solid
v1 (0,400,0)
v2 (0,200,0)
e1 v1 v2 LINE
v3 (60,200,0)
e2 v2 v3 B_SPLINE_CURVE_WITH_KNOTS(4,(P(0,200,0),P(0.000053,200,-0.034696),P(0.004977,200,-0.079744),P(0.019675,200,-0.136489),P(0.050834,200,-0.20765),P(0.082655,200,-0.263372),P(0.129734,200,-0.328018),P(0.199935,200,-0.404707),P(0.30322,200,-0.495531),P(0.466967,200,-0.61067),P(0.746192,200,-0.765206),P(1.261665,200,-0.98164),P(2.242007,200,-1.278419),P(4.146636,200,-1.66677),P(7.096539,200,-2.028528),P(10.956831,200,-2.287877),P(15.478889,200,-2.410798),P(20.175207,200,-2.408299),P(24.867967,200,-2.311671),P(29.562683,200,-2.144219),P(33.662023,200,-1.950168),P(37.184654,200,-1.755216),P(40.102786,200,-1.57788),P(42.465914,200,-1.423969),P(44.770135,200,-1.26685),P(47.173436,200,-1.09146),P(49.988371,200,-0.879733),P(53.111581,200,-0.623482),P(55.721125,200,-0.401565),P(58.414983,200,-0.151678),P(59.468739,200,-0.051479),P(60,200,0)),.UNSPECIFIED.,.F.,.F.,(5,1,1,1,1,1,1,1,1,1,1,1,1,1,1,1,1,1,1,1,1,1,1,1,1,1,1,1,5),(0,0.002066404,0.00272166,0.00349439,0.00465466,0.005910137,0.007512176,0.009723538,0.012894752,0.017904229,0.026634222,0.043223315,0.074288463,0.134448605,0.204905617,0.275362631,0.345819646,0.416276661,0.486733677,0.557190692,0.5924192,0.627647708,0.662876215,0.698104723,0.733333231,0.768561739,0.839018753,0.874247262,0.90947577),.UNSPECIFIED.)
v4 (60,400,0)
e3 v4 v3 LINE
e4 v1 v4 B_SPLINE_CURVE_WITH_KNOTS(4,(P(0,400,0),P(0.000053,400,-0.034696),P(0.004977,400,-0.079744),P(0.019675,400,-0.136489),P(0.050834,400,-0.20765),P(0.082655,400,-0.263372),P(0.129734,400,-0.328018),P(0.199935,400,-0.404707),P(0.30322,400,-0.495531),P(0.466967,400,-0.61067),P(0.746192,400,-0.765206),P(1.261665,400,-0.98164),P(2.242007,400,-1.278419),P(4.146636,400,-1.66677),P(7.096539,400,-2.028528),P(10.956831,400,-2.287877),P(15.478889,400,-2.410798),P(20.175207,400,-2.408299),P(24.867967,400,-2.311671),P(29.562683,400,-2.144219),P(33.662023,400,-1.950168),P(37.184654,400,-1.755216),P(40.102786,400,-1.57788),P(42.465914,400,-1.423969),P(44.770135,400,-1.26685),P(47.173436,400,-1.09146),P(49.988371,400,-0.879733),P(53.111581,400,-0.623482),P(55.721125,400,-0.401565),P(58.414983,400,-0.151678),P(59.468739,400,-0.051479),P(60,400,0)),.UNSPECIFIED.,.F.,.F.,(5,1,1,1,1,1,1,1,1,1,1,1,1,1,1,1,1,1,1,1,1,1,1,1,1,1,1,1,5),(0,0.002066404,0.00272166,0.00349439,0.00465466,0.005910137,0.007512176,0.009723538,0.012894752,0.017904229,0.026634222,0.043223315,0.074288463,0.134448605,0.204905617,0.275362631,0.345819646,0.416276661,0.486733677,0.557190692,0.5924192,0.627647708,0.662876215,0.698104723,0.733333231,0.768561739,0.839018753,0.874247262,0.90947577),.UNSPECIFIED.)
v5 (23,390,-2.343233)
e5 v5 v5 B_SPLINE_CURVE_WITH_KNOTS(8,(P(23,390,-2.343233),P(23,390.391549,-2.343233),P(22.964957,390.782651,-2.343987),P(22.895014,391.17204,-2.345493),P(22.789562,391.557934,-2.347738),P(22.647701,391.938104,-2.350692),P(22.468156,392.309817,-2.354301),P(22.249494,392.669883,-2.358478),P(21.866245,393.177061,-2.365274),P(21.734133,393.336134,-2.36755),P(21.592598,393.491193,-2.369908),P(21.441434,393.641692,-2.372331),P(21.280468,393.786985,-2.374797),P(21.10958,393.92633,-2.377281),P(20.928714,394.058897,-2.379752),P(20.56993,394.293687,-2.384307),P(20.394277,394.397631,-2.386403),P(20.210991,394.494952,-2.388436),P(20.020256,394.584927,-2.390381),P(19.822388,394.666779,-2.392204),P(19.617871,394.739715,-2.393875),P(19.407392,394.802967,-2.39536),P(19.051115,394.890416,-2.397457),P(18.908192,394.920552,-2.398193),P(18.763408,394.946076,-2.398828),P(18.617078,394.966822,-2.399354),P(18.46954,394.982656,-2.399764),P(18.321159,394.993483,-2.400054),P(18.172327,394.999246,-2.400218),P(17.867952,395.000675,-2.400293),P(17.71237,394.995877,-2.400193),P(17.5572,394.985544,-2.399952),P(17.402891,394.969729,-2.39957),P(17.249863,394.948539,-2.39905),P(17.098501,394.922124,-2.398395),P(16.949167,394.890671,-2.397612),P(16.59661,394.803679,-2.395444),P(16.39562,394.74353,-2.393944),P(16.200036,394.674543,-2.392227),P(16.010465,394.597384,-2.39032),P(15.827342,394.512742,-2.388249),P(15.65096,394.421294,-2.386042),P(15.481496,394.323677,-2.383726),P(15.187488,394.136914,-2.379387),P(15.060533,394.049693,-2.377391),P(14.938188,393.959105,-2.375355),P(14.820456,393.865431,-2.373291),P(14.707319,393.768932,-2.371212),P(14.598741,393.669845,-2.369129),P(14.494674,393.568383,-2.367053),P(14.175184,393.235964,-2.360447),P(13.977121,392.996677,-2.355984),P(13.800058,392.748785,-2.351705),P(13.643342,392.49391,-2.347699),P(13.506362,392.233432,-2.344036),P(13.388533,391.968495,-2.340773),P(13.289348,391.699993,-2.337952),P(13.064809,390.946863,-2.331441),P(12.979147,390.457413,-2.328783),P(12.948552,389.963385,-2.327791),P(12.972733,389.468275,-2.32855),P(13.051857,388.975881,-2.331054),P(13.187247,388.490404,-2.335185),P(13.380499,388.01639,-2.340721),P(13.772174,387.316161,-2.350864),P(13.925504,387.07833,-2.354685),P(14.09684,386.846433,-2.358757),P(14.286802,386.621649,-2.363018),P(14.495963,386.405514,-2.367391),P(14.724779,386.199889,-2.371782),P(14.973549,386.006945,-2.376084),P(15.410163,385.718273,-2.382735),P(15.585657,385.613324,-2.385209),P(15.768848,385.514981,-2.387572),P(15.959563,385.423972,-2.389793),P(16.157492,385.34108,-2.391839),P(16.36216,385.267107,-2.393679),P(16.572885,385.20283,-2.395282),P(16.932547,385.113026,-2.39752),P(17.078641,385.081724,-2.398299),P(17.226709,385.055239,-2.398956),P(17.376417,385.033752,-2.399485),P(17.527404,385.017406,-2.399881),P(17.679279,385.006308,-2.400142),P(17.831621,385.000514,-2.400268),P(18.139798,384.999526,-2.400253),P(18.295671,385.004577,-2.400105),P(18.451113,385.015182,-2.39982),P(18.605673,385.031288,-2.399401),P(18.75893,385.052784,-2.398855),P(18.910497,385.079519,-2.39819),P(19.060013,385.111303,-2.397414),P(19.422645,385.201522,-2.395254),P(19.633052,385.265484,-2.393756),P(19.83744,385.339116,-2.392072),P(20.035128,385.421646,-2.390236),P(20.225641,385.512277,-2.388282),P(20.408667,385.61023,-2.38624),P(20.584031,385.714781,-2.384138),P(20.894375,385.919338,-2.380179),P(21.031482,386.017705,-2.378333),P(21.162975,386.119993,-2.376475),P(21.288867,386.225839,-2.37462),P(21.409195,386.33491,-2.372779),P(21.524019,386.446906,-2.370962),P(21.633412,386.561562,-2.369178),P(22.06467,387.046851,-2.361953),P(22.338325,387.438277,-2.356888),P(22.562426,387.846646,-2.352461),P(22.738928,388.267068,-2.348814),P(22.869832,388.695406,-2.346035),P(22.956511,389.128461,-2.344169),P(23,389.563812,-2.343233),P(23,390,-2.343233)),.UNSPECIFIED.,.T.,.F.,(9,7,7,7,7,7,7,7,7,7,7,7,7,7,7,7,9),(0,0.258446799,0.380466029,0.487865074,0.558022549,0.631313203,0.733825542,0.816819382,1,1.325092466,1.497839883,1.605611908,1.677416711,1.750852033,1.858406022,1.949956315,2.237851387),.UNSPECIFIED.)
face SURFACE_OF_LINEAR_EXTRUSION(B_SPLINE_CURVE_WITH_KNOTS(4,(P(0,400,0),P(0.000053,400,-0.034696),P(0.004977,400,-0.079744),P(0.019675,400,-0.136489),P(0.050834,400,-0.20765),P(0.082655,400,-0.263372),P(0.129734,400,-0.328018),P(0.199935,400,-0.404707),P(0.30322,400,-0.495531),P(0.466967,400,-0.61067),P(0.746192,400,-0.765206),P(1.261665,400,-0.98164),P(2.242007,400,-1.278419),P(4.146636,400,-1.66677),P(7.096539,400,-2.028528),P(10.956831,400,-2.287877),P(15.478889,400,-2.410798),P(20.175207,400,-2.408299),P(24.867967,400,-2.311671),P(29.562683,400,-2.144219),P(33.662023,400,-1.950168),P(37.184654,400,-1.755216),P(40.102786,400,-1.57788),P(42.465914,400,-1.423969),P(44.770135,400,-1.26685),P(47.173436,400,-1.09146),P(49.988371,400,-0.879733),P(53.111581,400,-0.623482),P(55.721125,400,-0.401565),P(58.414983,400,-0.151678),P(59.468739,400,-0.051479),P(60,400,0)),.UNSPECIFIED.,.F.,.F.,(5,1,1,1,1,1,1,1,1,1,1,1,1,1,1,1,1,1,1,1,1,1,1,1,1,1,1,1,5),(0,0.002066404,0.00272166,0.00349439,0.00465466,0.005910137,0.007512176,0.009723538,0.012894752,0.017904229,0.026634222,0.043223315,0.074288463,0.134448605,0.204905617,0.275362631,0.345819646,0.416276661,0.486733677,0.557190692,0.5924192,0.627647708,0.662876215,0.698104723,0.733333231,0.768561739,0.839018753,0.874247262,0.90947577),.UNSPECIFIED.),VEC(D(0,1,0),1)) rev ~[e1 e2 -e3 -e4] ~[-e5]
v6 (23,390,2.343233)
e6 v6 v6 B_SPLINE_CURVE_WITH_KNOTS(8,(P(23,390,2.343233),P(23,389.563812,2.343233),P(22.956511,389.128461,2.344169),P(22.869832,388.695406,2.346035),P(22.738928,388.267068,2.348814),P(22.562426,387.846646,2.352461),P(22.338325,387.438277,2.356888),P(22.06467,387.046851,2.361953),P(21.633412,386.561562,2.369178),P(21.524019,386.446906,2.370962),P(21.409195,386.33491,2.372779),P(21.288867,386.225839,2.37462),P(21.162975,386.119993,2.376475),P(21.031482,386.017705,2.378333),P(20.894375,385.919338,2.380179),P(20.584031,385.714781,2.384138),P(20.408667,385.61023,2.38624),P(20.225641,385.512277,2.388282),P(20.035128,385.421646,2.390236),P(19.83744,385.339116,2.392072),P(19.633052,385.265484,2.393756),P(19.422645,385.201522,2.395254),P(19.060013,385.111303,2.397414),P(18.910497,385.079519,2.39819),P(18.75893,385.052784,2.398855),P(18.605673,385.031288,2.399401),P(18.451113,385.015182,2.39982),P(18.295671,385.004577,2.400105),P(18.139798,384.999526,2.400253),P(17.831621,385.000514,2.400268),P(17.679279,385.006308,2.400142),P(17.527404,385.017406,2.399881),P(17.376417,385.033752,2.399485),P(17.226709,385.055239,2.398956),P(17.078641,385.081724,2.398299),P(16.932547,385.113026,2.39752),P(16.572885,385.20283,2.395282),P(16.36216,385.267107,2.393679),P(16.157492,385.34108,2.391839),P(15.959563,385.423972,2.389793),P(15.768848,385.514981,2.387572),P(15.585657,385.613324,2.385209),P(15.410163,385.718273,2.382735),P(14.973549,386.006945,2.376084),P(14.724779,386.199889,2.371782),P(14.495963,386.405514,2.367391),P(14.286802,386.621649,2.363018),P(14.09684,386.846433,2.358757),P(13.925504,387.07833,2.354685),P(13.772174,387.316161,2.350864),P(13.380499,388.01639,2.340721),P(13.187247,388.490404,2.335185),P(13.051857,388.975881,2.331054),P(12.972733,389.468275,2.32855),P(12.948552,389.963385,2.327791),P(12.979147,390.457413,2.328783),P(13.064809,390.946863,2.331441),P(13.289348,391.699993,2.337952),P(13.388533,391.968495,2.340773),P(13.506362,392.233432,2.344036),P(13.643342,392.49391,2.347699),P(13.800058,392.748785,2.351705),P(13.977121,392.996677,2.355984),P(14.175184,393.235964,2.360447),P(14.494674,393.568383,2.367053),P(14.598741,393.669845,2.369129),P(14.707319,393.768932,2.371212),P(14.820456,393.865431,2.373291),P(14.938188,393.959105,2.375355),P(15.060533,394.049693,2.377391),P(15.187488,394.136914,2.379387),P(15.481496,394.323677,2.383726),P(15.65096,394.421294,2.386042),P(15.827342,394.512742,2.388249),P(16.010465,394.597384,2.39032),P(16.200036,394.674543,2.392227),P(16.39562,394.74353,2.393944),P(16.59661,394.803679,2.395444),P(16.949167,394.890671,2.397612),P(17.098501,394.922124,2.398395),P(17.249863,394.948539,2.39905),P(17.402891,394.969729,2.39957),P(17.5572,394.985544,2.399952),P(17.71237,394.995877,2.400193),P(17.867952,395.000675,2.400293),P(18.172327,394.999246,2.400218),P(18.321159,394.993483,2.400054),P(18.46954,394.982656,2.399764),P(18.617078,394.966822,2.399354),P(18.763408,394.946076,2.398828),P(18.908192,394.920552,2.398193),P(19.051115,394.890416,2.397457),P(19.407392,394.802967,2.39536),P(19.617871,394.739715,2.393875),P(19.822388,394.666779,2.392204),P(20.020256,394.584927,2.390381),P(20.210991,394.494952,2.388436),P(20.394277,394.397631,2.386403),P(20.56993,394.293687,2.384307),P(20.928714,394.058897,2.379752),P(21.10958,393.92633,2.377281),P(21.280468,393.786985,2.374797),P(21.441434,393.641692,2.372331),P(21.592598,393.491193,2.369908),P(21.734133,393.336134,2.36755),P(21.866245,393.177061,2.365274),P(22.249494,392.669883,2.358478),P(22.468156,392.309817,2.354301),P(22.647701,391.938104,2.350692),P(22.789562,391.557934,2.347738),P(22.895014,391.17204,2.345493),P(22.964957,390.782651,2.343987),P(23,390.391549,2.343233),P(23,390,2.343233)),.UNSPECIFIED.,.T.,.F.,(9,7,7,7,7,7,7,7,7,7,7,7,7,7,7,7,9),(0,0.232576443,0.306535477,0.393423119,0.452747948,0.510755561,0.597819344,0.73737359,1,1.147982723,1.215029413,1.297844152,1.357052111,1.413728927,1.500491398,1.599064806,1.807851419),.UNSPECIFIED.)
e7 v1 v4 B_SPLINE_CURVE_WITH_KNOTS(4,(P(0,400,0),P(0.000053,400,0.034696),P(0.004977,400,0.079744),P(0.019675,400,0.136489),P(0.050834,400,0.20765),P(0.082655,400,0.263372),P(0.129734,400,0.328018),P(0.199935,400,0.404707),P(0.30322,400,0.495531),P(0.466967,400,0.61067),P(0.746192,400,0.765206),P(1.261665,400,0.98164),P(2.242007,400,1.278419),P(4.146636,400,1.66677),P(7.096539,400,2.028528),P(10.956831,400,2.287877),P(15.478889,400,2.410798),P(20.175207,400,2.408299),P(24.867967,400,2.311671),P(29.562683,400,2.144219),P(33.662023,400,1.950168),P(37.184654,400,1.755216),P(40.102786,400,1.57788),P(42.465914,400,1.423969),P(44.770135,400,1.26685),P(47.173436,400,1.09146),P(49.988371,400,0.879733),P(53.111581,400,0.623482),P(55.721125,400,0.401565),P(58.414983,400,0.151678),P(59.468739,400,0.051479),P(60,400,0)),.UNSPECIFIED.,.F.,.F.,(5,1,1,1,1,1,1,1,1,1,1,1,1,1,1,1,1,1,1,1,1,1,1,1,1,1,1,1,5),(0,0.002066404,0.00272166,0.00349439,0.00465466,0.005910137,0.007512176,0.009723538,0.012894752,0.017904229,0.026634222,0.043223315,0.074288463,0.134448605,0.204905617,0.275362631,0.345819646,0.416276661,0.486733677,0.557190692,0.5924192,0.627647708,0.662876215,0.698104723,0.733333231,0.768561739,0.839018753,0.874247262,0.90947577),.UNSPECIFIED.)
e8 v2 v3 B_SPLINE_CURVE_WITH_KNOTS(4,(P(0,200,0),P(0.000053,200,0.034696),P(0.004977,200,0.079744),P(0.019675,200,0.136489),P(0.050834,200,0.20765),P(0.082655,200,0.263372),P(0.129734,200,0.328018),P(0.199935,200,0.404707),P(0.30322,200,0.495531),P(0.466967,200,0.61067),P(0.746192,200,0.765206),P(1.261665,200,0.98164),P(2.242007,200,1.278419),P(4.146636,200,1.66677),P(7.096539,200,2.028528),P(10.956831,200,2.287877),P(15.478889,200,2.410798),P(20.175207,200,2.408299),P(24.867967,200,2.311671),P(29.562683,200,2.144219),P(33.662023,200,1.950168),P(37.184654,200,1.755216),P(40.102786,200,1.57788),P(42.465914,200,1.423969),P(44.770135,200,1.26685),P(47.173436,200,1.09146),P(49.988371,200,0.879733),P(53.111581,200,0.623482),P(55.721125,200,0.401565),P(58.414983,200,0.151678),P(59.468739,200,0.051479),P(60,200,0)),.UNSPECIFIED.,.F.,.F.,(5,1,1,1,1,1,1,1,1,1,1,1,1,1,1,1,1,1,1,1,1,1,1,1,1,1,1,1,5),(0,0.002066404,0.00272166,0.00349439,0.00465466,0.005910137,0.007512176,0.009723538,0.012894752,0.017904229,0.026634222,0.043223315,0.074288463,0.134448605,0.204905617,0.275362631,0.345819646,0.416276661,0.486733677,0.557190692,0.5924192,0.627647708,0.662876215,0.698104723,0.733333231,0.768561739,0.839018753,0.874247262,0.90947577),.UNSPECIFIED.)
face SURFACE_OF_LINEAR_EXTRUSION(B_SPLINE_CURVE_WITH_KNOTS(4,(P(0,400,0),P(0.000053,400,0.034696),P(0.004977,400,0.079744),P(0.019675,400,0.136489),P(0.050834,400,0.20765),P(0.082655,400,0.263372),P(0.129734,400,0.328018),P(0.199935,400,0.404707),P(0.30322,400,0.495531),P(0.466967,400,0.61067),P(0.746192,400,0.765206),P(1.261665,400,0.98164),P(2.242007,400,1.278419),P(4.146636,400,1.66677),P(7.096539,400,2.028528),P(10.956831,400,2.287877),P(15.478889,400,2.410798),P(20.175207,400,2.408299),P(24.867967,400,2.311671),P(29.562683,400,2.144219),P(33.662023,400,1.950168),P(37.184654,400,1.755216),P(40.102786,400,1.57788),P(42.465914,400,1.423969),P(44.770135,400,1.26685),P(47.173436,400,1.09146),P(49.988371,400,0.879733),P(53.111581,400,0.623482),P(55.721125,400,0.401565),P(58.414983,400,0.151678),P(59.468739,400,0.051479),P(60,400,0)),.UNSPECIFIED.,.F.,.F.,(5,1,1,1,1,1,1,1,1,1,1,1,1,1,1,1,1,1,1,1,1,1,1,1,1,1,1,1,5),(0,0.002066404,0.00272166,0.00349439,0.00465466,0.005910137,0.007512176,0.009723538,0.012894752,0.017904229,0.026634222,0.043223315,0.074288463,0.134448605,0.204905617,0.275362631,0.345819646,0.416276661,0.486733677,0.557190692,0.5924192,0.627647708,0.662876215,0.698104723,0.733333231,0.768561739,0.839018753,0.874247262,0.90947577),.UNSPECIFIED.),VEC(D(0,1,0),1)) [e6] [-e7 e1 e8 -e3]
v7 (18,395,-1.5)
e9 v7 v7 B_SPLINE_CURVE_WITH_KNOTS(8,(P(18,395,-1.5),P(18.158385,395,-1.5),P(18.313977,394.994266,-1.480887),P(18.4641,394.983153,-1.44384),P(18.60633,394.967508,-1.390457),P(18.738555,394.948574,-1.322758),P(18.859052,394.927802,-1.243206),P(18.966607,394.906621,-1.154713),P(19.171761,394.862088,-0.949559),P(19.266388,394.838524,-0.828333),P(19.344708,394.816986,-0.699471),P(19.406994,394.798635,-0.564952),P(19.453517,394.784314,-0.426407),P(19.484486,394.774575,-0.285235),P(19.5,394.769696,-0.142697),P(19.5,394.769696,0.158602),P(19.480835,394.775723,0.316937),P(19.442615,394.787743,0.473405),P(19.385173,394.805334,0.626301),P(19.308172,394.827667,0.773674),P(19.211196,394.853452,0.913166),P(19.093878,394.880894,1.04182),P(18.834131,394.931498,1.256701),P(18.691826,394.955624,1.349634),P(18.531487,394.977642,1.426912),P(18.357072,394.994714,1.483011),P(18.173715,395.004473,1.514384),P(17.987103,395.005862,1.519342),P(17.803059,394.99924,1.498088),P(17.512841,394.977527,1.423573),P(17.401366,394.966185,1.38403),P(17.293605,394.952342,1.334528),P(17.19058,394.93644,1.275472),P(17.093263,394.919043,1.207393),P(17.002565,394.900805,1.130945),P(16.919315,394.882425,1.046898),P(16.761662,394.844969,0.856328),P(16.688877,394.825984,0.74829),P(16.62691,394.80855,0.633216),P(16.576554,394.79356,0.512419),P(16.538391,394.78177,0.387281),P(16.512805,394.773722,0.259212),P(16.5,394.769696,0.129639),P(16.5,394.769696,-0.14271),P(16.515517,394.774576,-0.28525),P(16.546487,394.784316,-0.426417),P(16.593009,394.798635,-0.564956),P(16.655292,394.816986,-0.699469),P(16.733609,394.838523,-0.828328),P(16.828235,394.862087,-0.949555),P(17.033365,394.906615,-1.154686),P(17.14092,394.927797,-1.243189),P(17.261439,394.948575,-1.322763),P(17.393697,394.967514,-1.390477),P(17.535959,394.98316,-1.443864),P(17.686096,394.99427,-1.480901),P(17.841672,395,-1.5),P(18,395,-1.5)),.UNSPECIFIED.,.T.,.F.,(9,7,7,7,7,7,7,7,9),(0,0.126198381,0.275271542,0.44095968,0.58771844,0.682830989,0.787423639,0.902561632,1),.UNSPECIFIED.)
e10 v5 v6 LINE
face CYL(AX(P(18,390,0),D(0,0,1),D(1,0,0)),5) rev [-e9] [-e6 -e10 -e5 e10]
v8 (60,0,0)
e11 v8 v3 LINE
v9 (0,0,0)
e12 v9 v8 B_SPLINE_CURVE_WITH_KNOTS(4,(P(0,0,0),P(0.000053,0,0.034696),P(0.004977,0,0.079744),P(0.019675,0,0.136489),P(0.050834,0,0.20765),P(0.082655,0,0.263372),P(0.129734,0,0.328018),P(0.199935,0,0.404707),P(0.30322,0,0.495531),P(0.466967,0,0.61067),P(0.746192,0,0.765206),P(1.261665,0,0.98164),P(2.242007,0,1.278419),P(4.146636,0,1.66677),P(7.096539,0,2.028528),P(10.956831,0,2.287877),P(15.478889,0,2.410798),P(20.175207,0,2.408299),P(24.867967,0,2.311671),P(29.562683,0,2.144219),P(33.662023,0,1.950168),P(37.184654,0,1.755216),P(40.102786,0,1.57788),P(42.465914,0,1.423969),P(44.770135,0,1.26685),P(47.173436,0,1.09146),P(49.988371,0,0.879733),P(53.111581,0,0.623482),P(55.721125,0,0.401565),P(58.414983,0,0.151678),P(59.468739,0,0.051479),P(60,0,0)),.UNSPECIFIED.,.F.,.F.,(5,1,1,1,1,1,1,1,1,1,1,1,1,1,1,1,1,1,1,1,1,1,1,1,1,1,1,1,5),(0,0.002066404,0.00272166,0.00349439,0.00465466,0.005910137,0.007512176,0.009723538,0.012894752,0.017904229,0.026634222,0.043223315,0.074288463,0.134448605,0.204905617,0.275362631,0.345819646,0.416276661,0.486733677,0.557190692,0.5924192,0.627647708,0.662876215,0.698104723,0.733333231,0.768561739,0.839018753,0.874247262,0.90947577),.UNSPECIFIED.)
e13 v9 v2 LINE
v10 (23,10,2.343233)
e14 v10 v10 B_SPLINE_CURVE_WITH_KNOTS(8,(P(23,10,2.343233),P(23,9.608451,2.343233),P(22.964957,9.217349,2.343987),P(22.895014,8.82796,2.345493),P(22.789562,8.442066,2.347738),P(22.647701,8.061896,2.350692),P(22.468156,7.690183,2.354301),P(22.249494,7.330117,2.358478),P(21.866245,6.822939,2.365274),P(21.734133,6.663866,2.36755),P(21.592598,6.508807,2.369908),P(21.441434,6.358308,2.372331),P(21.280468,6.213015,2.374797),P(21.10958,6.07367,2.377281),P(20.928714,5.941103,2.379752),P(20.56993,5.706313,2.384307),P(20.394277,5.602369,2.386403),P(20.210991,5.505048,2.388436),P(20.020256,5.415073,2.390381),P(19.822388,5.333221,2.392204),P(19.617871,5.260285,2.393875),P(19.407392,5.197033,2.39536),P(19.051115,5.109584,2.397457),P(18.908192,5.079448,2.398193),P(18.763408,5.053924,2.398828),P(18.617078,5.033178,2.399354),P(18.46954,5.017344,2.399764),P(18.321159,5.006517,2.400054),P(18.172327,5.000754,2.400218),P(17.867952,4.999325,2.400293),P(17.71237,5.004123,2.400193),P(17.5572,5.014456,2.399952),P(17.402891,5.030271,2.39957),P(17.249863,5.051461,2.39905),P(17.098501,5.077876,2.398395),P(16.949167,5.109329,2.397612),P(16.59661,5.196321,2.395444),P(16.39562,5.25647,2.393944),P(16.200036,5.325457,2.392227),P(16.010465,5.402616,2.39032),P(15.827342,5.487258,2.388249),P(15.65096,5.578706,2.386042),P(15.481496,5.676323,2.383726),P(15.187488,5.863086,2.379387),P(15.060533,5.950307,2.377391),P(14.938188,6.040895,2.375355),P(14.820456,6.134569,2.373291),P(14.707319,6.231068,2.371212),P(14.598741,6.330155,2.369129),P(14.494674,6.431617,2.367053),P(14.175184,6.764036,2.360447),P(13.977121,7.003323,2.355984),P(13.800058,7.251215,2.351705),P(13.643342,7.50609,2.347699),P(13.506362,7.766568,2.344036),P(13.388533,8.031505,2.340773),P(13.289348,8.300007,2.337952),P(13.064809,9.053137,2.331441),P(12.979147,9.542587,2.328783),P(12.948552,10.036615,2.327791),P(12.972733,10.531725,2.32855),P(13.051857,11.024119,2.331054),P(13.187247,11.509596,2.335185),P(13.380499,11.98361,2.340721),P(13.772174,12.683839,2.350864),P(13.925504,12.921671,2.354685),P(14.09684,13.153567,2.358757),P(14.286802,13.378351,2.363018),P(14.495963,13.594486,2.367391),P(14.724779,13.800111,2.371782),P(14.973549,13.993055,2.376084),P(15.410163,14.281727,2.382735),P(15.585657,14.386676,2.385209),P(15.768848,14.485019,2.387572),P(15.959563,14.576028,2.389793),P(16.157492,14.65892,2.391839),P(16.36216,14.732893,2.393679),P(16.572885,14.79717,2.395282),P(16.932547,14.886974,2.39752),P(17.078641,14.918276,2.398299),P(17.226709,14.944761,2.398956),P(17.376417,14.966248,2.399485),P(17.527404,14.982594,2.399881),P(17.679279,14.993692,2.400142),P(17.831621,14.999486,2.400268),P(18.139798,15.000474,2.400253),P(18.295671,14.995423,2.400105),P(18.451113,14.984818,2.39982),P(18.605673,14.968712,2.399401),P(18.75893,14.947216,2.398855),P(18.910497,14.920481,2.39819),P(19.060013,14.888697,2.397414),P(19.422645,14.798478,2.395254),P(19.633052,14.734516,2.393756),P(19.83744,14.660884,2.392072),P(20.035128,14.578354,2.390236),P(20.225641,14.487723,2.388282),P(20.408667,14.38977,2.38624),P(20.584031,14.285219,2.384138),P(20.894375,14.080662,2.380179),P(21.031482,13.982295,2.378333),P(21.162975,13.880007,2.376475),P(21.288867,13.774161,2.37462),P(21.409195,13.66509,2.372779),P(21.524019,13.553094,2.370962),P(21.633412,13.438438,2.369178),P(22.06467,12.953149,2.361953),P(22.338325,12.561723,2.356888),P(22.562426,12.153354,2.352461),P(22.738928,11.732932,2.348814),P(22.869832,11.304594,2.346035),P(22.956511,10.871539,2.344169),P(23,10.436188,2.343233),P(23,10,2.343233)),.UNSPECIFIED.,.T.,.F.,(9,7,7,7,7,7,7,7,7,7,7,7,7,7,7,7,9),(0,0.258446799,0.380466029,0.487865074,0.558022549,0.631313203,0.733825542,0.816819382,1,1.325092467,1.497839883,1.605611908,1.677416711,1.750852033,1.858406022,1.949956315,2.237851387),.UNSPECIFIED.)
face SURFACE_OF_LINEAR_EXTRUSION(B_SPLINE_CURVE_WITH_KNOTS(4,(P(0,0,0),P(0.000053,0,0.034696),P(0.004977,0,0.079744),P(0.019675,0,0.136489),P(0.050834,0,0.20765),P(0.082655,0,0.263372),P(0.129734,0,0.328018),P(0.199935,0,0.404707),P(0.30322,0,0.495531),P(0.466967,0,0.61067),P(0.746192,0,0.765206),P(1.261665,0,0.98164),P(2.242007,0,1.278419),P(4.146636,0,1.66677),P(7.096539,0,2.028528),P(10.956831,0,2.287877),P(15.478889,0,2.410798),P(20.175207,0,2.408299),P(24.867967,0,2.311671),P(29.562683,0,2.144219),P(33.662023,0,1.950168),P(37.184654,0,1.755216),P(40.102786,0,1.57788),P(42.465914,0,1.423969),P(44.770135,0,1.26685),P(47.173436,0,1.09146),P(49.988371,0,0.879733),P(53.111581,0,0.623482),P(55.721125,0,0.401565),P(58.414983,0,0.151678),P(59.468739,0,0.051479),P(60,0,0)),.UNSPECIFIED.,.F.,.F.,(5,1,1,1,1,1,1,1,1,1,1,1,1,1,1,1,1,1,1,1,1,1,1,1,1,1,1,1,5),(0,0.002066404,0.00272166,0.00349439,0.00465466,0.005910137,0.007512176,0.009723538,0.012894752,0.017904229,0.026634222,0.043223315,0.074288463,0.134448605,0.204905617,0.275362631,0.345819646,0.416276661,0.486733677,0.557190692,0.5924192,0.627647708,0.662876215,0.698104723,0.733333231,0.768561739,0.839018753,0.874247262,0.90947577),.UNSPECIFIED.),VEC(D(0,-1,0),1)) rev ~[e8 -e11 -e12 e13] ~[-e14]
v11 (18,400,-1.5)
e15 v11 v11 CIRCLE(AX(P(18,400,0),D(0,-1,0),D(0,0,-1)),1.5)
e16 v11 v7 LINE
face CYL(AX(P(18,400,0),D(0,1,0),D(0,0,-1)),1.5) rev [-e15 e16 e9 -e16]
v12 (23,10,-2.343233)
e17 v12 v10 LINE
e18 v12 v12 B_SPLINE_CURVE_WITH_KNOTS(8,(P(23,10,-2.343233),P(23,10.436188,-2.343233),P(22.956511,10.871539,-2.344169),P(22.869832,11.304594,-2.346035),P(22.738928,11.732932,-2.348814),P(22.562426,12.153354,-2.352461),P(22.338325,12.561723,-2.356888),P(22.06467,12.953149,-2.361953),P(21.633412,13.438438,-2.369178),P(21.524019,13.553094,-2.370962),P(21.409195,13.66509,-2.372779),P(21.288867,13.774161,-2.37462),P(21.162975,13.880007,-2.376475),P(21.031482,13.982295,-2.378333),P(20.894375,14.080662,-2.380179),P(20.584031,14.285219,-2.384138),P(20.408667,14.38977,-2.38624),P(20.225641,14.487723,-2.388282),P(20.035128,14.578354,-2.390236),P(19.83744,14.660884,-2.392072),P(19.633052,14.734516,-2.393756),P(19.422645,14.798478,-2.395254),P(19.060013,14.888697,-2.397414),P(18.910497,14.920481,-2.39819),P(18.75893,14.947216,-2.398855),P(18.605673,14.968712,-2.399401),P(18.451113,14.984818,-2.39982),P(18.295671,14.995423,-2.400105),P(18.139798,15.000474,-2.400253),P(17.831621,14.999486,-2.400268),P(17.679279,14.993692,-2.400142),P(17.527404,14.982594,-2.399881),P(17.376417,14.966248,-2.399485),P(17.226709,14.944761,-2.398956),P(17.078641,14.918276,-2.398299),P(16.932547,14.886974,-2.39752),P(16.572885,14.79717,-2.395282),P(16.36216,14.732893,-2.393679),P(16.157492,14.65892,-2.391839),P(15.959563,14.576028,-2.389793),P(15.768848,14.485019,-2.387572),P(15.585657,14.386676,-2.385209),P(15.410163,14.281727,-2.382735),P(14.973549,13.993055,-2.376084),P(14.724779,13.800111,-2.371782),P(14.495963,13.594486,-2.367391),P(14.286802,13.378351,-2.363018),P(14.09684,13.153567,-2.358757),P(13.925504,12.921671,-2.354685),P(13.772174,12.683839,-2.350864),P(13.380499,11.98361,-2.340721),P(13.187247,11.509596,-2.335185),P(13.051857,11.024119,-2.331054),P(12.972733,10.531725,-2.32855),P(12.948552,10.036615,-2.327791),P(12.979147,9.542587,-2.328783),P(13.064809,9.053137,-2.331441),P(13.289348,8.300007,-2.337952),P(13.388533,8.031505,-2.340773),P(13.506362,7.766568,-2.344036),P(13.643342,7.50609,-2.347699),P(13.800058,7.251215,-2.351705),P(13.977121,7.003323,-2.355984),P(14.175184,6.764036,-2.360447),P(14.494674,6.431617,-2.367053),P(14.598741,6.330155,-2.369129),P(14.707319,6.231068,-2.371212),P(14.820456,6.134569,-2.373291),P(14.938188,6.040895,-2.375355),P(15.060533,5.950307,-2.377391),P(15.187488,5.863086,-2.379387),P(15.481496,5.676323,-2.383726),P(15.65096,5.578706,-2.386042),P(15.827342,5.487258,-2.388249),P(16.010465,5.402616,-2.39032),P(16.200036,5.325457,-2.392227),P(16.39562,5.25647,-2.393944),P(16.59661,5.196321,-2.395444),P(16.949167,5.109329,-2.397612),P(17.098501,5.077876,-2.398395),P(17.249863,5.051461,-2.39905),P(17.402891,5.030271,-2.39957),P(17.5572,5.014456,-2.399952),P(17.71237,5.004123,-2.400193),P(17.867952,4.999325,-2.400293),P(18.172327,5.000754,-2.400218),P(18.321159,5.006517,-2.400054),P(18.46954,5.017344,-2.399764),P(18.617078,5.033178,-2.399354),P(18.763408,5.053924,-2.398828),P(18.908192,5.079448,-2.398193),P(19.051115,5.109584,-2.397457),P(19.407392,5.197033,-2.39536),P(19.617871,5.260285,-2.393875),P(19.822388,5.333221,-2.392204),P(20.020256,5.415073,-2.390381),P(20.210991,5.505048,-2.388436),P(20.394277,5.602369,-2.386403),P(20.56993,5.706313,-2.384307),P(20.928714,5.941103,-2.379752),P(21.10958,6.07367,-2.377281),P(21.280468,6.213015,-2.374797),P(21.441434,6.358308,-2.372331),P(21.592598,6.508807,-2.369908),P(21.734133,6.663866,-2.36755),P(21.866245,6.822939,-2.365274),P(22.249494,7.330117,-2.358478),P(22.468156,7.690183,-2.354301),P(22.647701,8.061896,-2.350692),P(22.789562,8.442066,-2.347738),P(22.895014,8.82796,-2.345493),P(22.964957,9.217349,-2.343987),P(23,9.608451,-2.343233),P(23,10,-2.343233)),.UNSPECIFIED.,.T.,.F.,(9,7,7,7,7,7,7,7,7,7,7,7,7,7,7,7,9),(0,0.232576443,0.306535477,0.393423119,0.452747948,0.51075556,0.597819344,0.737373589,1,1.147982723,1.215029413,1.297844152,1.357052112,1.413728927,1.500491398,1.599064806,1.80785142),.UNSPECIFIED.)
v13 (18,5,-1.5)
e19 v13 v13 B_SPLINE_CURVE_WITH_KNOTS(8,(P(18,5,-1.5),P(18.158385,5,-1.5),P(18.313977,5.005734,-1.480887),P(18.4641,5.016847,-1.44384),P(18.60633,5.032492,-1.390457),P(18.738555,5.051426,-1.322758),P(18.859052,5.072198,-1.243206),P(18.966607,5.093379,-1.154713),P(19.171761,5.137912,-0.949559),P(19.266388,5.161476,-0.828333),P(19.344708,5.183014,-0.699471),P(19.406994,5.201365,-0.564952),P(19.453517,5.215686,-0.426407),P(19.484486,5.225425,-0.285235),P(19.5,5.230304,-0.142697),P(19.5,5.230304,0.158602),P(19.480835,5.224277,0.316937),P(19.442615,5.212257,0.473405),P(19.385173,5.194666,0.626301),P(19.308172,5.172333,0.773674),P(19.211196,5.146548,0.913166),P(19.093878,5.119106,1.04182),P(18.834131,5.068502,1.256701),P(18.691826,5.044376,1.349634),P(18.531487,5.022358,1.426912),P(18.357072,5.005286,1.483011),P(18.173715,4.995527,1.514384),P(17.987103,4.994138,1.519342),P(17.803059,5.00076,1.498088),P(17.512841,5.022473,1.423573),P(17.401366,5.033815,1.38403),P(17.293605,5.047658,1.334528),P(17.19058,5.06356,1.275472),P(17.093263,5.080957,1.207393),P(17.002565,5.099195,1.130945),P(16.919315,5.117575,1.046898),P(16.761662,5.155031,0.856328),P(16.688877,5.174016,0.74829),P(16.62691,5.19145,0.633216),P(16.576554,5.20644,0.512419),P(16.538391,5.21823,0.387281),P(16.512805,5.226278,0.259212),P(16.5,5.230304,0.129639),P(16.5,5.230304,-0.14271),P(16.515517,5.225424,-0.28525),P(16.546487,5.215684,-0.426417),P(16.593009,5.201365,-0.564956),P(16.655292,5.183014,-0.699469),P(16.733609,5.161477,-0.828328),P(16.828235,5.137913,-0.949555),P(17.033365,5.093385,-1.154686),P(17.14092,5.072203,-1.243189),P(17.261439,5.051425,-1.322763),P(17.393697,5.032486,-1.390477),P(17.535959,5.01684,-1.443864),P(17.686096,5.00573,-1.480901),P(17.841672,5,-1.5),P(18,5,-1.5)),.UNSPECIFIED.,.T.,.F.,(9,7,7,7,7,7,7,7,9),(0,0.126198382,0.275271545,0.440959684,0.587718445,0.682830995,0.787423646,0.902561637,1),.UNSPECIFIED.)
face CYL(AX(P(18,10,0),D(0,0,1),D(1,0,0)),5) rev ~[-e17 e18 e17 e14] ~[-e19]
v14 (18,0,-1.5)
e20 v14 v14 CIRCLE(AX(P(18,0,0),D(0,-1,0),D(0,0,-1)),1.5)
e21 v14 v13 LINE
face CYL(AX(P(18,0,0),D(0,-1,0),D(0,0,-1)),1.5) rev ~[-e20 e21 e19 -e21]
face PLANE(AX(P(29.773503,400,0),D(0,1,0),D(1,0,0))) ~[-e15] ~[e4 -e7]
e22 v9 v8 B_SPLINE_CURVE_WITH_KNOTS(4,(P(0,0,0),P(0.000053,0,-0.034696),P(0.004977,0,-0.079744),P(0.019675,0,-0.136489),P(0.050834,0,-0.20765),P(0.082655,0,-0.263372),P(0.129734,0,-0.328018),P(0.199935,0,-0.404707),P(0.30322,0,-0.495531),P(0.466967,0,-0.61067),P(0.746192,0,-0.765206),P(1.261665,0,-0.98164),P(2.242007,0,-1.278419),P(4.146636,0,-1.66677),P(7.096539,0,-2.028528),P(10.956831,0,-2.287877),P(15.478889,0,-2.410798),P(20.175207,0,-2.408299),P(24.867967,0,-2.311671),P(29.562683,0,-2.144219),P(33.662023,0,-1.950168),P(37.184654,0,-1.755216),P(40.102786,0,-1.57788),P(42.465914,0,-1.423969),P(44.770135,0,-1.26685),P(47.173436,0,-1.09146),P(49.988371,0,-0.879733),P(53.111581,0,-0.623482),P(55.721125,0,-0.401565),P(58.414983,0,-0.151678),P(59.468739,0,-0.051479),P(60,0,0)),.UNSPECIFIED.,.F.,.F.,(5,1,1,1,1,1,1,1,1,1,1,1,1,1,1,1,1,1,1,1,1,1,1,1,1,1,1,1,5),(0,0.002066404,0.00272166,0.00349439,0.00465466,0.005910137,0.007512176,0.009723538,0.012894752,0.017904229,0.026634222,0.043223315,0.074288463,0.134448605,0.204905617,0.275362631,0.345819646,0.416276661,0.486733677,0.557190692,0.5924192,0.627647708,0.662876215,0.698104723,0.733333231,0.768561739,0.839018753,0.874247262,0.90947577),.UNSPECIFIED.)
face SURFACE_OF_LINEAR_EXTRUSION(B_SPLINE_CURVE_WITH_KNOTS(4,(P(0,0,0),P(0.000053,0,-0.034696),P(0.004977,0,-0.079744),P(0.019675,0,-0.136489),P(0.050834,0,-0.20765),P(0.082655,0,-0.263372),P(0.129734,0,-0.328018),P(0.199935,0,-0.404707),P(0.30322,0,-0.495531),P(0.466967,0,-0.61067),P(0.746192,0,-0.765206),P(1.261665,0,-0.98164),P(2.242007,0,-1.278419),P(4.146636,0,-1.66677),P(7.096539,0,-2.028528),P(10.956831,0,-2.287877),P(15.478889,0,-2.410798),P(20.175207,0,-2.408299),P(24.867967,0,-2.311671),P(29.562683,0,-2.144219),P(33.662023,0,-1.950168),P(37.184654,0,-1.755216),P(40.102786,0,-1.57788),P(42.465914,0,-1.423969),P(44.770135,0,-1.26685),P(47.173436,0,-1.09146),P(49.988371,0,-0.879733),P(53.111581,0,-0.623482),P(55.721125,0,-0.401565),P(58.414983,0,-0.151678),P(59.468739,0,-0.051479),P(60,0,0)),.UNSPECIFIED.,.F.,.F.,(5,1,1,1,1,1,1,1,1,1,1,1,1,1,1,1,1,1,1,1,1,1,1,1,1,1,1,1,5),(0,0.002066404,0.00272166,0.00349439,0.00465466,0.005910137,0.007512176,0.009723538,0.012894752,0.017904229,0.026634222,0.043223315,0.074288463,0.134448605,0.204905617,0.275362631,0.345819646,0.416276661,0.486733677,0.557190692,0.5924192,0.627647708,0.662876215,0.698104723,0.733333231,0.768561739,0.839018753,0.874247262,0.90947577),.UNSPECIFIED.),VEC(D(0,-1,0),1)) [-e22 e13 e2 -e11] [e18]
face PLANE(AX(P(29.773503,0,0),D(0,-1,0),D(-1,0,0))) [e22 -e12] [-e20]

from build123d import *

# Parameters (mm, degrees)
EXTRUDE_1_DEPTH     = 200
SKETCH_3_R          = 5
CUT_EXTRUDE_1_DEPTH = 20
SKETCH_4_R          = 1.5
CUT_EXTRUDE_2_DEPTH = 10


with BuildPart() as part:
    # 草图1 → 凸台-拉伸1 (new body)
    with BuildSketch(Plane(origin=(0, 0, 0), x_dir=(1, 0, 0), z_dir=(0, 1, 0))):
        with BuildLine():
            add(Edge.make_bspline(
                [(0, 0), (5.2949e-05, 0.034695622), (0.004976604, 0.079744224), (0.019675034, 0.136489483), (0.050833594, 0.207649815), (0.082654776, 0.263372174), (0.129734096, 0.328018437), (0.199935078, 0.404706809), (0.303219968, 0.495530655), (0.466967128, 0.610670013), (0.746191512, 0.765206224), (1.26166456, 0.981640284), (2.242007, 1.278419353), (4.14663612, 1.666769693), (7.096539488, 2.028527597), (10.956831422, 2.287877156), (15.47888885, 2.410797869), (20.175207395, 2.408298517), (24.867966532, 2.311671349), (29.562682568, 2.144218739), (33.662022755, 1.950168416), (37.18465387, 1.755215969), (40.102786331, 1.577879963), (42.465913857, 1.423968638), (44.770134878, 1.266849828), (47.173435556, 1.091460443), (49.988370897, 0.879733124), (53.111581269, 0.6234817), (55.721125403, 0.401565298), (58.414982765, 0.151678391), (59.468738841, 0.051479206), (60, 0)],
                knots=[0, 0, 0, 0, 0, 0.002066404, 0.00272166, 0.00349439, 0.00465466, 0.005910137, 0.007512176, 0.009723538, 0.012894752, 0.017904229, 0.026634222, 0.043223315, 0.074288463, 0.134448605, 0.204905617, 0.275362631, 0.345819646, 0.416276661, 0.486733677, 0.557190692, 0.5924192, 0.627647708, 0.662876215, 0.698104723, 0.733333231, 0.768561739, 0.839018753, 0.874247262, 0.90947577, 0.90947577, 0.90947577, 0.90947577, 0.90947577], degree=4))
            add(Edge.make_bspline(
                [(0, 0), (5.2949e-05, -0.034695622), (0.004976604, -0.079744224), (0.019675034, -0.136489483), (0.050833594, -0.207649815), (0.082654776, -0.263372174), (0.129734096, -0.328018437), (0.199935078, -0.404706809), (0.303219968, -0.495530655), (0.466967128, -0.610670013), (0.746191512, -0.765206224), (1.26166456, -0.981640284), (2.242007, -1.278419353), (4.14663612, -1.666769693), (7.096539488, -2.028527597), (10.956831422, -2.287877156), (15.47888885, -2.410797869), (20.175207395, -2.408298517), (24.867966532, -2.311671349), (29.562682568, -2.144218739), (33.662022755, -1.950168416), (37.18465387, -1.755215969), (40.102786331, -1.577879963), (42.465913857, -1.423968638), (44.770134878, -1.266849828), (47.173435556, -1.091460443), (49.988370897, -0.879733124), (53.111581269, -0.6234817), (55.721125403, -0.401565298), (58.414982765, -0.151678391), (59.468738841, -0.051479206), (60, 0)],
                knots=[0, 0, 0, 0, 0, 0.002066404, 0.00272166, 0.00349439, 0.00465466, 0.005910137, 0.007512176, 0.009723538, 0.012894752, 0.017904229, 0.026634222, 0.043223315, 0.074288463, 0.134448605, 0.204905617, 0.275362631, 0.345819646, 0.416276661, 0.486733677, 0.557190692, 0.5924192, 0.627647708, 0.662876215, 0.698104723, 0.733333231, 0.768561739, 0.839018753, 0.874247262, 0.90947577, 0.90947577, 0.90947577, 0.90947577, 0.90947577], degree=4))
        make_face()
    extrude_1 = extrude(amount=EXTRUDE_1_DEPTH)

    # 草图3 → 切除-拉伸1 (cut, symmetric)
    with BuildSketch(Plane.XY):
        with Locations((18, 10)):
            Circle(SKETCH_3_R)
    cut_extrude_1 = extrude(amount=CUT_EXTRUDE_1_DEPTH, both=True, mode=Mode.SUBTRACT)

    # 草图4 → 切除-拉伸2 (cut)
    with BuildSketch(Plane.XZ):
        with Locations(Location((18, 0, 0), (0, 0, 270))):
            Circle(SKETCH_4_R)
    cut_extrude_2 = extrude(amount=-CUT_EXTRUDE_2_DEPTH, mode=Mode.SUBTRACT)

    # 镜向1: 凸台-拉伸1, 切除-拉伸1, 切除-拉伸2 across plane
    add(extrude_1.mirror(Plane(origin=(29.775929057, 200, 2.123918129), x_dir=(0, 0, 1), z_dir=(0, -1, 0))))
    add(cut_extrude_1.mirror(Plane(origin=(29.775929057, 200, 2.123918129), x_dir=(0, 0, 1), z_dir=(0, -1, 0))), mode=Mode.SUBTRACT)
    add(cut_extrude_2.mirror(Plane(origin=(29.775929057, 200, 2.123918129), x_dir=(0, 0, 1), z_dir=(0, -1, 0))), mode=Mode.SUBTRACT)


solid = part.part
